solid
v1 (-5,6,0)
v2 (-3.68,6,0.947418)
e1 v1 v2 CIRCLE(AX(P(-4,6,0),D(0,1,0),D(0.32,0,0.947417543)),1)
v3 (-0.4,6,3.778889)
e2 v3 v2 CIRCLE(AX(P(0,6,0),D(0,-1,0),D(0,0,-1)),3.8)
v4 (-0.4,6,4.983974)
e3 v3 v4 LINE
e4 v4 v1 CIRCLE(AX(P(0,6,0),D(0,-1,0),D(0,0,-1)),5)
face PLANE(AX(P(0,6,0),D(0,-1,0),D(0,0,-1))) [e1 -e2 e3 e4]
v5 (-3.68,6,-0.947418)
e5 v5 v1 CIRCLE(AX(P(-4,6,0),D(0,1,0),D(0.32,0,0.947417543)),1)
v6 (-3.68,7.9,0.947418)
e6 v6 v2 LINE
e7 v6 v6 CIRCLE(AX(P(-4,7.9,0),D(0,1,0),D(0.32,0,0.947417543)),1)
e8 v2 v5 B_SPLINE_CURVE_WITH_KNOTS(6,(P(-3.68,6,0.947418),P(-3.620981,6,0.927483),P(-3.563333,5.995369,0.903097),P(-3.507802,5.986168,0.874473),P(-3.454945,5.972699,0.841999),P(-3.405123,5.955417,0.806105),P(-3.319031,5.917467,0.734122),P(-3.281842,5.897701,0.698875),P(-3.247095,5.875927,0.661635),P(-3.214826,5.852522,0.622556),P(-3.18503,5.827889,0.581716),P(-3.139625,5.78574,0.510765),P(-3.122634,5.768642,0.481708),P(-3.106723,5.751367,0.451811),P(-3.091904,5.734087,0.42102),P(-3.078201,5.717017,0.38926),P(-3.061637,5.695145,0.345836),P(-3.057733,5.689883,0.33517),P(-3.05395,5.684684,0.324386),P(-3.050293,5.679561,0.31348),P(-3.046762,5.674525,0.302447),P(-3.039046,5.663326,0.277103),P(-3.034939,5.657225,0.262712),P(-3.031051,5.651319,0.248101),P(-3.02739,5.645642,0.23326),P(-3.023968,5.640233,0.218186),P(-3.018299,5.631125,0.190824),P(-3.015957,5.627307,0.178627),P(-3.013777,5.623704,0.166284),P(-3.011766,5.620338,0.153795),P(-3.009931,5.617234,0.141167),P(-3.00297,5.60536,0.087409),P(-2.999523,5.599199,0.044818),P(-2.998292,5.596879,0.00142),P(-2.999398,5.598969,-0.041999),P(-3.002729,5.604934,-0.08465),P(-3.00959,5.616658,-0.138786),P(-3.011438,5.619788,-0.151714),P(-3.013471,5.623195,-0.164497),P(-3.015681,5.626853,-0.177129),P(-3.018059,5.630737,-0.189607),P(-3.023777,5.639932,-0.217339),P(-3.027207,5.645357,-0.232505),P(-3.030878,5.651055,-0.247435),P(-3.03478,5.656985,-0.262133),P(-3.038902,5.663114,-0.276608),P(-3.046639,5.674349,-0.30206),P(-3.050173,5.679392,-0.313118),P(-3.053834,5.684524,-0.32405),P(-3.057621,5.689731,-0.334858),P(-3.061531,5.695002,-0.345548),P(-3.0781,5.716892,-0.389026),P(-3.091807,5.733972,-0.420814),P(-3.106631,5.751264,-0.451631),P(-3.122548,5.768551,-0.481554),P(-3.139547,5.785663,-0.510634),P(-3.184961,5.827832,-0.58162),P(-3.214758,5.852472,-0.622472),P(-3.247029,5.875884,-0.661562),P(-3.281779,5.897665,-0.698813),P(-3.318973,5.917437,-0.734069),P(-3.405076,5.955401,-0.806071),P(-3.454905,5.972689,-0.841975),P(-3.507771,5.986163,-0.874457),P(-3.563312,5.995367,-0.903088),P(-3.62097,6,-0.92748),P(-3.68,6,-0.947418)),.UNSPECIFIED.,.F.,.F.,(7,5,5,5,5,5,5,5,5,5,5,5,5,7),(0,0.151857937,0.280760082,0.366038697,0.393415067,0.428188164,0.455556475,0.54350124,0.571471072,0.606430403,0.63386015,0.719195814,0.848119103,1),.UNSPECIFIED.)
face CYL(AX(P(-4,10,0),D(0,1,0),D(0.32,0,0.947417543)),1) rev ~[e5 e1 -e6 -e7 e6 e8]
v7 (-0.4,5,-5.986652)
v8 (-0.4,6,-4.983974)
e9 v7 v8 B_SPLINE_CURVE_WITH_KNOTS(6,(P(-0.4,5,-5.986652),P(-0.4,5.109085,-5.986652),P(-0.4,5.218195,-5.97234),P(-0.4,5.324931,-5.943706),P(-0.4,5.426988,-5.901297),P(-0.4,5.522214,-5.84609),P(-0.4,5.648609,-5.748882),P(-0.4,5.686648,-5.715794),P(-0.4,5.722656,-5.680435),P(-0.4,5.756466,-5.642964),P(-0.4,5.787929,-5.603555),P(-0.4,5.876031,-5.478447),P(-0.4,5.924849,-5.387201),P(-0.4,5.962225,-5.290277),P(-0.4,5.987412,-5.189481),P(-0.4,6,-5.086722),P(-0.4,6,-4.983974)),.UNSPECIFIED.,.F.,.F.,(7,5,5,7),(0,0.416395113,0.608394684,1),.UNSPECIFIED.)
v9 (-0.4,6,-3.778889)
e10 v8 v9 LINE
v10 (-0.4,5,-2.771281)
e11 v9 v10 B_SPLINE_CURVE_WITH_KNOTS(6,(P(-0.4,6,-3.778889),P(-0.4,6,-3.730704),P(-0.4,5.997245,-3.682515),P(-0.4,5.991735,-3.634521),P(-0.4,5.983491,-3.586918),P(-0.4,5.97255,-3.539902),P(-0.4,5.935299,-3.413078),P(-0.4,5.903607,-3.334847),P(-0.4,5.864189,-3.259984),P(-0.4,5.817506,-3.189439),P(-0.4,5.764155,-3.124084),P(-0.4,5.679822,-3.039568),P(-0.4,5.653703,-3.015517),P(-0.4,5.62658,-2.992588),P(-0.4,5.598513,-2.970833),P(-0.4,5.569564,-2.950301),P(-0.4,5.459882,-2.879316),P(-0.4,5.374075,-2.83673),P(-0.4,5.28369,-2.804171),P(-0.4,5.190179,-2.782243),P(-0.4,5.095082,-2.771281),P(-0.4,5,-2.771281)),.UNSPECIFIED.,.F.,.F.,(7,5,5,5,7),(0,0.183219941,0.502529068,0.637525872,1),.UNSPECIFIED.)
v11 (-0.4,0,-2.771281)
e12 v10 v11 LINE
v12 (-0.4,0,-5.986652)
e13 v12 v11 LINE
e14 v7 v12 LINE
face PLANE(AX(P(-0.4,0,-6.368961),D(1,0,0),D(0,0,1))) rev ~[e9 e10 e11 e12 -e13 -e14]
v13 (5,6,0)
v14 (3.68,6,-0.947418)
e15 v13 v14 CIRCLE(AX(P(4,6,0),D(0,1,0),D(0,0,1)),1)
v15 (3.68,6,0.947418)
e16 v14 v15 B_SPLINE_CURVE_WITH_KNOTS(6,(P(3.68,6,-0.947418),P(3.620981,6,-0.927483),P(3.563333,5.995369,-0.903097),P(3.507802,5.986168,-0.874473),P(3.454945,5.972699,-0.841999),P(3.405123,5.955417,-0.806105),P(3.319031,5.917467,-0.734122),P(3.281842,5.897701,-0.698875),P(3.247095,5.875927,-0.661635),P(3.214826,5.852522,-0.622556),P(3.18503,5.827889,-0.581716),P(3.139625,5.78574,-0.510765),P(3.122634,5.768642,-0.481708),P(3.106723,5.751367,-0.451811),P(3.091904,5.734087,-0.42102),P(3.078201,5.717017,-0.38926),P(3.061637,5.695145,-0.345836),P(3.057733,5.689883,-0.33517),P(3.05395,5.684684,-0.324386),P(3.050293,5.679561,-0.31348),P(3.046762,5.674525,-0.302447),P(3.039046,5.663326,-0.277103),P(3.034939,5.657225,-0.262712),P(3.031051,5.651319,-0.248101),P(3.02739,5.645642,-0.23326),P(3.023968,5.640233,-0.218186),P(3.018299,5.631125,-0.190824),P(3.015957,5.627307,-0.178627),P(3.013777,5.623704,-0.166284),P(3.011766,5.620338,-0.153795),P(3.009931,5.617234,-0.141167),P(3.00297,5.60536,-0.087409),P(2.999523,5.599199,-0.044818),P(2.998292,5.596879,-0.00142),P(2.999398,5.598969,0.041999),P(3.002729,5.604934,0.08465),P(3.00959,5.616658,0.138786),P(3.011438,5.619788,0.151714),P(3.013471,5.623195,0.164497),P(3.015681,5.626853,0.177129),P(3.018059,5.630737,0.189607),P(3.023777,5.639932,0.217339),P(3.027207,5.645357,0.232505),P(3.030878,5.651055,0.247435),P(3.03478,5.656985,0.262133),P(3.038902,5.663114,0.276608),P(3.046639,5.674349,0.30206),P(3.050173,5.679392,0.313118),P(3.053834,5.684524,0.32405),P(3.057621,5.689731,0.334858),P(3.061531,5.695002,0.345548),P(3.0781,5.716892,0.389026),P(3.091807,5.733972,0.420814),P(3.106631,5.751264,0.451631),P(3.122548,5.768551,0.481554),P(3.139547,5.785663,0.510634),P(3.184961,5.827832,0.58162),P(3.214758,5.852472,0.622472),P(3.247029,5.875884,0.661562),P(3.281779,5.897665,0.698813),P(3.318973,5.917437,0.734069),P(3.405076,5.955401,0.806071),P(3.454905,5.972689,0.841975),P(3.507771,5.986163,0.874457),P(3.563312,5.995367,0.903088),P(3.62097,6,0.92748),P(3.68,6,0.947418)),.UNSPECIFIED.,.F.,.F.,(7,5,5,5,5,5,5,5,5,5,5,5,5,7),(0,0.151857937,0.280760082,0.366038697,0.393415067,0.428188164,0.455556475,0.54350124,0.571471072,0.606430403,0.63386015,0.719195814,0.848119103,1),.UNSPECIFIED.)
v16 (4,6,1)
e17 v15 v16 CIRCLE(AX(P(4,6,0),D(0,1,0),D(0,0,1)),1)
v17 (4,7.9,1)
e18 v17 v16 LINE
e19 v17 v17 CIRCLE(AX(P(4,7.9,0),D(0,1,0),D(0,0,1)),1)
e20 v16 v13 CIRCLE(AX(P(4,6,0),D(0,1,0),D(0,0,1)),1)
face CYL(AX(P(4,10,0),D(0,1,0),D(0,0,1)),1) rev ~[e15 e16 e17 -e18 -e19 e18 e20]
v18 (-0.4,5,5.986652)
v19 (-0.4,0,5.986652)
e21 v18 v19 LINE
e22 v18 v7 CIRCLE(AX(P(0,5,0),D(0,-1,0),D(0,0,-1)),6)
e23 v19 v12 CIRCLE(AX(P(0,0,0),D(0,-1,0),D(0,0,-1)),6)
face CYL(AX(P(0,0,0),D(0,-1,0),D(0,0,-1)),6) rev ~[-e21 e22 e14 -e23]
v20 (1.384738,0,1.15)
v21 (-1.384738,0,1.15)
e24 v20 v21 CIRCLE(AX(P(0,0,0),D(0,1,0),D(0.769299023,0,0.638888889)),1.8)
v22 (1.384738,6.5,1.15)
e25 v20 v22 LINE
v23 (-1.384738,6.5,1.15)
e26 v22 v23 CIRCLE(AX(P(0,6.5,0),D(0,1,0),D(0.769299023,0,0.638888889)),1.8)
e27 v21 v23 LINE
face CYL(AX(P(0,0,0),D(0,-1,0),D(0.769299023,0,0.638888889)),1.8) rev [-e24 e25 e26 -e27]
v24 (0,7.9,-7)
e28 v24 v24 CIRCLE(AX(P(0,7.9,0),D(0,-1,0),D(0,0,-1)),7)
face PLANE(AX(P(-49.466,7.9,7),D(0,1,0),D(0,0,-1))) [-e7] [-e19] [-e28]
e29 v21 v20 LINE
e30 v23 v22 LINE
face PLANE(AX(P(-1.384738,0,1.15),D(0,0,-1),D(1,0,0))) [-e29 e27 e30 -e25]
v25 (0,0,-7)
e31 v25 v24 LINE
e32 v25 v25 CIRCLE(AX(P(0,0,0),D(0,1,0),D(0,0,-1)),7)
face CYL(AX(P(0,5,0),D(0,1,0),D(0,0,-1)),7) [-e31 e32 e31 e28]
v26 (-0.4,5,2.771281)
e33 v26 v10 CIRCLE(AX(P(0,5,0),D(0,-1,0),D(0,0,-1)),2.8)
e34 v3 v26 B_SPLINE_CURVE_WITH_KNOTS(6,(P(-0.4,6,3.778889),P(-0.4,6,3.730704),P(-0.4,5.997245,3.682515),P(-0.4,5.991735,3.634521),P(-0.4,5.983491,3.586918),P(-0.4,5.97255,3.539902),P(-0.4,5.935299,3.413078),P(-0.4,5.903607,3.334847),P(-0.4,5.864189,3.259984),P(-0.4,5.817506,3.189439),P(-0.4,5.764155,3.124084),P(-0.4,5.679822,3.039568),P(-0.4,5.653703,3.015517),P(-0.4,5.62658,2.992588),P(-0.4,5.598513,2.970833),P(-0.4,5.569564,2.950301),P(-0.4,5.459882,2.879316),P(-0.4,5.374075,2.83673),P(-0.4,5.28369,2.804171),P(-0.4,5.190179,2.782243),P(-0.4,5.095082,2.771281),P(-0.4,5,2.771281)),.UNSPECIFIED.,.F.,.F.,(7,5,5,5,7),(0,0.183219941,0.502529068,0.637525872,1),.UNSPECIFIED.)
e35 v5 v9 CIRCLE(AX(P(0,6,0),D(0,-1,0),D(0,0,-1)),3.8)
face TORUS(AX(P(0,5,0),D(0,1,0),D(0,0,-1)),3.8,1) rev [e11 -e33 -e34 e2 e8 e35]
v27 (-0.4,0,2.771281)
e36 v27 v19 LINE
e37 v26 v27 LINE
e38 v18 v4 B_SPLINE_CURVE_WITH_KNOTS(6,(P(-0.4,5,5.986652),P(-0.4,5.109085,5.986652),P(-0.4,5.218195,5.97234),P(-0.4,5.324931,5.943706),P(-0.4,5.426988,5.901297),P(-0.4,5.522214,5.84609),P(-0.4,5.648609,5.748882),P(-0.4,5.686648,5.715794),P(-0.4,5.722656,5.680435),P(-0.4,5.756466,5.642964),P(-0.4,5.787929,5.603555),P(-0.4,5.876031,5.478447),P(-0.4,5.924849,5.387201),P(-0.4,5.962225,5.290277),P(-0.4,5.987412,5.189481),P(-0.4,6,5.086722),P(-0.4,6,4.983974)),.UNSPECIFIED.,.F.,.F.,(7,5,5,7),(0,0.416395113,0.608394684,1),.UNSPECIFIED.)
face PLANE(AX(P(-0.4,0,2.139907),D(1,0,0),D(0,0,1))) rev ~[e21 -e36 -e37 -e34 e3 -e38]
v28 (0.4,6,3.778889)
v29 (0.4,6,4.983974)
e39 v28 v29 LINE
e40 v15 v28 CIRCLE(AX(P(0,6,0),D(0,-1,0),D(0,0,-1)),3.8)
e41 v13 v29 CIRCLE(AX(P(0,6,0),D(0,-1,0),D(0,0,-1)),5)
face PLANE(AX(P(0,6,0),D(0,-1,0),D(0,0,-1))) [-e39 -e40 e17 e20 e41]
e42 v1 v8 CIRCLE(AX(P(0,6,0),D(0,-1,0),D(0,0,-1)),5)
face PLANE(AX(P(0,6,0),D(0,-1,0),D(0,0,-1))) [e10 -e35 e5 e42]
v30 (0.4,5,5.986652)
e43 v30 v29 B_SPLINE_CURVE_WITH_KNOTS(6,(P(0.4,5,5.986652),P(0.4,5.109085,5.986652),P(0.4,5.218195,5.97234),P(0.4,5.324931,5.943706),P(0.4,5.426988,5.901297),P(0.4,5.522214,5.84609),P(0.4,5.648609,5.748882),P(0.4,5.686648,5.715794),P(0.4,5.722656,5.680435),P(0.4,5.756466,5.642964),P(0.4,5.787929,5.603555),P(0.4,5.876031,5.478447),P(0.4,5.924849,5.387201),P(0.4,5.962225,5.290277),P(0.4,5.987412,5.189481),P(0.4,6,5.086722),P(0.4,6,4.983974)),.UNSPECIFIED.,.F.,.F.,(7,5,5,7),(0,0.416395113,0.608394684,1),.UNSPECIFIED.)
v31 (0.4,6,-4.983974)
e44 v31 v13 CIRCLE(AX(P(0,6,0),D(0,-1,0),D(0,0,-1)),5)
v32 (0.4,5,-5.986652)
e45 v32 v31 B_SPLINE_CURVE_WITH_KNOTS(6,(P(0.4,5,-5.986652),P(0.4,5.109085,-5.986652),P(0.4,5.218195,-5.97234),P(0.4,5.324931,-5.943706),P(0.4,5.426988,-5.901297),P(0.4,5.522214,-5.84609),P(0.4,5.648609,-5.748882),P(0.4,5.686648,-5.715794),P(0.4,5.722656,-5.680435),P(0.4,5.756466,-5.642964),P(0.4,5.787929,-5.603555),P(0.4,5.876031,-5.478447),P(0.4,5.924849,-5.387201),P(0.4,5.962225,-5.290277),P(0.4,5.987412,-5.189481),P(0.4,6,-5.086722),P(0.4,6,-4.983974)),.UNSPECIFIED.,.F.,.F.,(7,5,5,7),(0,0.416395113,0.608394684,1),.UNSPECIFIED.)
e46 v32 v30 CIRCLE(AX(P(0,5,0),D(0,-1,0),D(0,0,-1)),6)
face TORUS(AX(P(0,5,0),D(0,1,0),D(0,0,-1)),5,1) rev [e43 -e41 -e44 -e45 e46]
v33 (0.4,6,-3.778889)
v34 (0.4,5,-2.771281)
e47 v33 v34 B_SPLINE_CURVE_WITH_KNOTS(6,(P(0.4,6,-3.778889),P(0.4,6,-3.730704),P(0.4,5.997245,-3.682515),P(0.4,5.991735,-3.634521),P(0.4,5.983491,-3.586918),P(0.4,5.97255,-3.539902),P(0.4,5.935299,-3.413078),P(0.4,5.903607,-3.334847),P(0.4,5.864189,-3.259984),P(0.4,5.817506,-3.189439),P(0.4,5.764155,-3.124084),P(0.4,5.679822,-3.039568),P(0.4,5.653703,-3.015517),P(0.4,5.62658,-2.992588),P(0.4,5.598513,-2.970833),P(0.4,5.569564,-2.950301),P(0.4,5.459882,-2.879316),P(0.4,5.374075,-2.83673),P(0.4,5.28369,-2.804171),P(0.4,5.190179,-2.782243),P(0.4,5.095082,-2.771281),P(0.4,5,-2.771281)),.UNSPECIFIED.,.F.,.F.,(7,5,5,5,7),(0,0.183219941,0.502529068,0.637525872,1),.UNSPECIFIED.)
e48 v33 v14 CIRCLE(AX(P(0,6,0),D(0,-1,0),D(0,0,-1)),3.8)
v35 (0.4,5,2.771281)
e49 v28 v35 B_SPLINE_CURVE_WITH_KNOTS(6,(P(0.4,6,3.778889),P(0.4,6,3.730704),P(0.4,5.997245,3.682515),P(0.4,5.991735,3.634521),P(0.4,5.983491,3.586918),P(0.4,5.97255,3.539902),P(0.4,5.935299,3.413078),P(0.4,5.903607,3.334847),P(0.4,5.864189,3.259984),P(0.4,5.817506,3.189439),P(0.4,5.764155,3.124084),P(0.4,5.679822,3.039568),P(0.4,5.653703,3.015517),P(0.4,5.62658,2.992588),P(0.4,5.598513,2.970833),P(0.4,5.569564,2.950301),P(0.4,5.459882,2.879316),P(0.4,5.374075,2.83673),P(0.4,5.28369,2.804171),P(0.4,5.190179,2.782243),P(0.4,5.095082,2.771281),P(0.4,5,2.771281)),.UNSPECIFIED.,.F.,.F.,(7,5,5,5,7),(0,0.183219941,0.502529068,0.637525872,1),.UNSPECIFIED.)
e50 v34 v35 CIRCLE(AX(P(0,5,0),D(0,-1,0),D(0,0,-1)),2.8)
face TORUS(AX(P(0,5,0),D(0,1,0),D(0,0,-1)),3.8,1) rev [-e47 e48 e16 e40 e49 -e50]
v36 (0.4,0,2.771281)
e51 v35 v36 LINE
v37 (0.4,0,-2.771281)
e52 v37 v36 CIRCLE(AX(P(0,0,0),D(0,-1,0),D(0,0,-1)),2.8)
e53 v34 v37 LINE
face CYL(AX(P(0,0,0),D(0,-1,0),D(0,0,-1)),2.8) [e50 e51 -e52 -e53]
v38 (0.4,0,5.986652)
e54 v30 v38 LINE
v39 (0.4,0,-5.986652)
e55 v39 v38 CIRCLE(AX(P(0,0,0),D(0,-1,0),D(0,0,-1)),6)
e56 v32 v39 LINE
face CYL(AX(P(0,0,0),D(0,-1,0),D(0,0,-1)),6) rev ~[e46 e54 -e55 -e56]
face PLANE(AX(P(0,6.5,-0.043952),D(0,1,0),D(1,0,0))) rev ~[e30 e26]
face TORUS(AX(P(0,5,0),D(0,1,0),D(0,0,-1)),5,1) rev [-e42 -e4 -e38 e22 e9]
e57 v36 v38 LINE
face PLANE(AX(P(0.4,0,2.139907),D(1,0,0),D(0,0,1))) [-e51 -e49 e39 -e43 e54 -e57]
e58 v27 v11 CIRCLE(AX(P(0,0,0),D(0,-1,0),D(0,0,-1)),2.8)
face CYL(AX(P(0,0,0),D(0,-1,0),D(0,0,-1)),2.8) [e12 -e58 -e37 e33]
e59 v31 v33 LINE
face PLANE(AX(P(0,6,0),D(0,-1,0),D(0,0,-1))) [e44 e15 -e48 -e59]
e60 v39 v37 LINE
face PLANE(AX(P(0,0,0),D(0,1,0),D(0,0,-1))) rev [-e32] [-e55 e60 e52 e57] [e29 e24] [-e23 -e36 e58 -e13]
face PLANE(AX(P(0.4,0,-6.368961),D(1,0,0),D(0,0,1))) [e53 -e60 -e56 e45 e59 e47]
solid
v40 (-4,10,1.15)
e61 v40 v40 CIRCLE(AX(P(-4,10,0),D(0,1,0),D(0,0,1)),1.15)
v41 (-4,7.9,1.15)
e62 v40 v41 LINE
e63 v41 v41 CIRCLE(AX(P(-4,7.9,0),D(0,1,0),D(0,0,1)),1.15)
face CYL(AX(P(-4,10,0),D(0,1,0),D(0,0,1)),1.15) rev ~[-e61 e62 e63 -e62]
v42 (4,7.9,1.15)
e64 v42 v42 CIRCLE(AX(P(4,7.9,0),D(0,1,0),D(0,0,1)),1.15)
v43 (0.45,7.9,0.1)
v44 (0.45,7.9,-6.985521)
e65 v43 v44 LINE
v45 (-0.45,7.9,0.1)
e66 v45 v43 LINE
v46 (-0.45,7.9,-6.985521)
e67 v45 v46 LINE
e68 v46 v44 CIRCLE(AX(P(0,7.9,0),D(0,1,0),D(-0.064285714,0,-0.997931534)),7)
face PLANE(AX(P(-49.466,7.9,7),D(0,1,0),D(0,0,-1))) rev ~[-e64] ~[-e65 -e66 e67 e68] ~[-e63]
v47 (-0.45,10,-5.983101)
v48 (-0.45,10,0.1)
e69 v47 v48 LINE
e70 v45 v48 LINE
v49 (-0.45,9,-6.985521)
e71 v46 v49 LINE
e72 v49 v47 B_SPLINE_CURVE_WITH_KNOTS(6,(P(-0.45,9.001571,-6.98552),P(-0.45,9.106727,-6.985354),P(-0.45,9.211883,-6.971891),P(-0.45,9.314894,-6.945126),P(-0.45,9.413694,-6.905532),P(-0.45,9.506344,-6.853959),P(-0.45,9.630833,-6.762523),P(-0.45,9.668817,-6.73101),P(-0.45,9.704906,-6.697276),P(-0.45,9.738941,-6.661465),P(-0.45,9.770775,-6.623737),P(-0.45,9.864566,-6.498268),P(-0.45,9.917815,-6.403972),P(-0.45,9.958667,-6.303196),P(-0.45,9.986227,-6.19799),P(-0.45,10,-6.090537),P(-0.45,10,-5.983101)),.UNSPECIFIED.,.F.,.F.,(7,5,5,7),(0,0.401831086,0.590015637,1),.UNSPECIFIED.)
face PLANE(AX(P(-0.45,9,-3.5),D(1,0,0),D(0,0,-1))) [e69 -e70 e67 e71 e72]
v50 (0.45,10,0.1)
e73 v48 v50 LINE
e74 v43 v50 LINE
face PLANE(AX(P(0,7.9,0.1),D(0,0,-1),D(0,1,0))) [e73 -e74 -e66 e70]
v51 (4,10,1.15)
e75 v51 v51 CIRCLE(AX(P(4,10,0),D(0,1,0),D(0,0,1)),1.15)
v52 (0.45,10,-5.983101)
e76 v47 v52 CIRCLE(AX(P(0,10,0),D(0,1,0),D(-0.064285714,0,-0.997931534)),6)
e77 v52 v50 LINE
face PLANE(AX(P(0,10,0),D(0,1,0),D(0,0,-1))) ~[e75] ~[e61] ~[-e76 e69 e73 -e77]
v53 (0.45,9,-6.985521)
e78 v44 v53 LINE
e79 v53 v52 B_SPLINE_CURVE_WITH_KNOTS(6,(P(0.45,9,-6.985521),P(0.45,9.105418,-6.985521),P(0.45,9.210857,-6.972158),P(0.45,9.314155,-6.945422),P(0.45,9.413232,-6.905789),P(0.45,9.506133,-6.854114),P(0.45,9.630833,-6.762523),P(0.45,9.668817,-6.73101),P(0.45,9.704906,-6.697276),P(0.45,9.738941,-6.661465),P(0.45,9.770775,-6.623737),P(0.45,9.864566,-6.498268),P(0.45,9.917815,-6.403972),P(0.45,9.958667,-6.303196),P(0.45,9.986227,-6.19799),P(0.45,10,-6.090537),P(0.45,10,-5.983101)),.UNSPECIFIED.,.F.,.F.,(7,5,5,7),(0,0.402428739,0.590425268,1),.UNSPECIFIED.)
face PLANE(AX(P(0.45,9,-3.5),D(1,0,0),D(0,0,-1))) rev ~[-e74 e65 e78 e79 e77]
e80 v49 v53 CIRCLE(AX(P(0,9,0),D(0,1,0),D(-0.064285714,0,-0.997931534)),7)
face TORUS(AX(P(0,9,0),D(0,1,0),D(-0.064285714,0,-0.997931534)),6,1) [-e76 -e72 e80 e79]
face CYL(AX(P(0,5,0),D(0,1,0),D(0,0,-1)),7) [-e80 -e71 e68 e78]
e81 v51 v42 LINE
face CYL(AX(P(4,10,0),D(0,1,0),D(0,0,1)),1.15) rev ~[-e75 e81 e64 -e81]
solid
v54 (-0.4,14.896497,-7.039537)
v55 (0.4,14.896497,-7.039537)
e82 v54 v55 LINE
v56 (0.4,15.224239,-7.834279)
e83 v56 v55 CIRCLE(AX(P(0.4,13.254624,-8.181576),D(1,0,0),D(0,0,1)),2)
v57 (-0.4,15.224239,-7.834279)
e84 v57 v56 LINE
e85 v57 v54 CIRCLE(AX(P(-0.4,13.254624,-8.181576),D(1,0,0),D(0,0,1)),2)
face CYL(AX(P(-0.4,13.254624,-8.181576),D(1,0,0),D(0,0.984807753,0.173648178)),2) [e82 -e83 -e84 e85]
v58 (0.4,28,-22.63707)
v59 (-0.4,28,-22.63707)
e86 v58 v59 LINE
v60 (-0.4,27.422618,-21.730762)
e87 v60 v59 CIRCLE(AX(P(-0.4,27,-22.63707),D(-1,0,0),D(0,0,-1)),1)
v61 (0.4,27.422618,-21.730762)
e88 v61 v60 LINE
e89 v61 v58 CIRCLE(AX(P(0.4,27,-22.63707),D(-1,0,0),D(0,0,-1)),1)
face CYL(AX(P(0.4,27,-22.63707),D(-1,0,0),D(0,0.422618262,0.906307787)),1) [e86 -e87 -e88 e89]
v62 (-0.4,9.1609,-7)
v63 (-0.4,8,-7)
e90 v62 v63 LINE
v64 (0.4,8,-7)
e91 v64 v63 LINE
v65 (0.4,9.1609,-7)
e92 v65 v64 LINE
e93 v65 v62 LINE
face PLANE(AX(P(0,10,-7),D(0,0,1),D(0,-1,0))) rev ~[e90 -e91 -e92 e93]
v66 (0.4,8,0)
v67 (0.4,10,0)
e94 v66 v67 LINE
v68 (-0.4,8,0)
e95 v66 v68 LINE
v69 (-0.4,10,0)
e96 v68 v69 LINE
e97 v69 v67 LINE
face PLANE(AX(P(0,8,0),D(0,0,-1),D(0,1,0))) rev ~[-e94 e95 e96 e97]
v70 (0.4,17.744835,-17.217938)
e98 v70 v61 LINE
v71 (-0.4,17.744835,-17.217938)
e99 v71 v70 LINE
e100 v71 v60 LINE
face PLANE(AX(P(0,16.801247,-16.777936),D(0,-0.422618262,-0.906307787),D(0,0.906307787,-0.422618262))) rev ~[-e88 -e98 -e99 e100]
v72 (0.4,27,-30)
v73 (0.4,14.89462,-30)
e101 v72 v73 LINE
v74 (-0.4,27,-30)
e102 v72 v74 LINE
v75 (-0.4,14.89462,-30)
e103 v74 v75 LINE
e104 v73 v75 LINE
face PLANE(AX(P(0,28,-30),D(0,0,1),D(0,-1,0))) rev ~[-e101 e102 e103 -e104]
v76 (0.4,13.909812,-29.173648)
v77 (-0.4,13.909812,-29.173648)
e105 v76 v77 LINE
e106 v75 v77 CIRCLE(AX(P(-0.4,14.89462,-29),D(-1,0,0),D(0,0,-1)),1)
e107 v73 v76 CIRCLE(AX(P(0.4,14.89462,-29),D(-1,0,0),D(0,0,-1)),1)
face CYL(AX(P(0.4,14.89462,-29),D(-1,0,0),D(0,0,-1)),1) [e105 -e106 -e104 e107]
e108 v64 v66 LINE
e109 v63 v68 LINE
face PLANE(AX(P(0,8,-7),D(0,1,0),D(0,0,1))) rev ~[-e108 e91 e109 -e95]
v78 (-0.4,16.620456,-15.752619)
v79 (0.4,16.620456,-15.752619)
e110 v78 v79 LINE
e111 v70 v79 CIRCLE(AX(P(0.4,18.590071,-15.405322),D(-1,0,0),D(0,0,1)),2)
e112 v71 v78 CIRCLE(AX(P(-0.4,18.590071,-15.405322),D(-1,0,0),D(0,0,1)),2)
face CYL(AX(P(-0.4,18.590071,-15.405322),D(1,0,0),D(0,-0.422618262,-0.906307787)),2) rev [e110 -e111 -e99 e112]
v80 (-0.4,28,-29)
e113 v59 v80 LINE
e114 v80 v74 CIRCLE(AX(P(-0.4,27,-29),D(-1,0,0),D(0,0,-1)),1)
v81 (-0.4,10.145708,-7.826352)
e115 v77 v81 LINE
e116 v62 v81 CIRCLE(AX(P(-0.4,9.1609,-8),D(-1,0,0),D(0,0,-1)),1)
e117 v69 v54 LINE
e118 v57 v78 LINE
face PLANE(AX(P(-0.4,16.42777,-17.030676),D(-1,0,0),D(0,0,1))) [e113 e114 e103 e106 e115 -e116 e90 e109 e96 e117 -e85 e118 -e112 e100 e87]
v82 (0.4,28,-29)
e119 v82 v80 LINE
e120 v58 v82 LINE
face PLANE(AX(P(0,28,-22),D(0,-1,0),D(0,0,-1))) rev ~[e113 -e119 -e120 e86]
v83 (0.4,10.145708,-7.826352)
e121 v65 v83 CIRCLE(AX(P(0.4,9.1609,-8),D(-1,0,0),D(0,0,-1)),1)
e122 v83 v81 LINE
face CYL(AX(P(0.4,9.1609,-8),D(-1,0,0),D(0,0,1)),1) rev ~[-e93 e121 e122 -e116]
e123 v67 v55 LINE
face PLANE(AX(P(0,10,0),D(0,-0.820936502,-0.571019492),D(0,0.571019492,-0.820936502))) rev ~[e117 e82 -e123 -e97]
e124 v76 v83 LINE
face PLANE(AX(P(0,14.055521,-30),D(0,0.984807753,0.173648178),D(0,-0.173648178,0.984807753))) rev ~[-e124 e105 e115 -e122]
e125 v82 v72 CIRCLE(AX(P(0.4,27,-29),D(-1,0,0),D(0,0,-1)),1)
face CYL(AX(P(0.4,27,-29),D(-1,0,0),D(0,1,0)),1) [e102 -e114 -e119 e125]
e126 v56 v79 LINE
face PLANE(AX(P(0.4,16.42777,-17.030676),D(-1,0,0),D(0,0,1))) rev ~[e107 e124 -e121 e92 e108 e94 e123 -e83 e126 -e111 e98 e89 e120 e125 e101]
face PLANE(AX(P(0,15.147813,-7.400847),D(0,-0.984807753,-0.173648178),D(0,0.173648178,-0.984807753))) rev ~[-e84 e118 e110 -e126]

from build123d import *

# Parameters (mm, degrees)
SKETCH_1_W                     = 7
SKETCH_1_H                     = 10
CUT_EXTRUDE_1_DEPTH            = 6.5
EXTRUDE_2_DEPTH                = 0.4
SKETCH_5_W                     = 7.2
SKETCH_5_H                     = 2.2
CUT_EXTRUDE_2_DEPTH            = 0.45
FILLET_1_R                     = 1
FILLET_2_R                     = 1
SKETCH_6_R                     = 6
SKETCH_6_R_2                   = 2.8
CUT_EXTRUDE_3_DEPTH            = 6
FILLET_4_R                     = 1
FILLET_3_R                     = 2
SKETCH_8_R                     = 1
CUT_EXTRUDE_4_DEPTH            = 6
SPLIT_BODIES_1_SURFACE_1_BACK  = 49.466
SPLIT_BODIES_1_SURFACE_1_DEPTH = 98.932
SPLIT_BODIES_1_SURFACE_2_BACK  = 49.466
SPLIT_BODIES_1_SURFACE_2_DEPTH = 98.932
SKETCH_13_R                    = 1.15
CUT_EXTRUDE_6_DEPTH            = 2.8
FILLET_7_R                     = 1
SKETCH_14_W                    = 0.8
SKETCH_14_H                    = 4.22905479
EXTRUDE_3_DEPTH                = 6


with BuildPart() as part:
    # 草图1 → 旋转1 (revolve)
    with BuildSketch(Plane(origin=(0, 0, 0), x_dir=(0, 0, -1), z_dir=(1, 0, 0))):
        with Locations((3.5, 5)):
            Rectangle(SKETCH_1_W, SKETCH_1_H)
    revolve(axis=Axis((0, 0, 0), (0, 1, 0)))

    # 草图2 → 切除-拉伸1 (cut)
    with BuildSketch(Plane(origin=(0, 0, 0), x_dir=(1, 0, 0), z_dir=(0, 1, 0))):
        with BuildLine():
            Line((-1.384738242, -1.15), (1.384738242, -1.15))
            ThreePointArc((1.384738242, -1.15), (0, 1.8), (-1.384738242, -1.15))
        make_face()
    extrude(amount=CUT_EXTRUDE_1_DEPTH, mode=Mode.SUBTRACT)

    # 草图5 → 切除-拉伸2 (cut, symmetric)
    with BuildSketch(Plane(origin=(0, 0, 0), x_dir=(0, 0, -1), z_dir=(1, 0, 0))):
        with Locations((3.5, 9)):
            Rectangle(SKETCH_5_W, SKETCH_5_H)
    extrude(amount=CUT_EXTRUDE_2_DEPTH, both=True, mode=Mode.SUBTRACT)

    # 圆角1
    fillet_1_edges = [part.edges().sort_by_distance(p)[0] for p in [
        (0, 10, 7),
    ]]
    fillet(fillet_1_edges, radius=FILLET_1_R)

    # 草图6 → 切除-拉伸3 (cut)
    with BuildSketch(Plane.XZ):
        with Locations(Location((0, 0, 0), (0, 0, 270))):
            Circle(SKETCH_6_R)
        with Locations(Location((0, 0, 0), (0, 0, 270))):
            Circle(SKETCH_6_R_2, mode=Mode.SUBTRACT)
    extrude(amount=-CUT_EXTRUDE_3_DEPTH, mode=Mode.SUBTRACT)

    # 圆角4
    fillet_4_edges = [part.edges().sort_by_distance(p)[0] for p in [
        (0, 6, 6),
        (0, 6, 2.8),
    ]]
    fillet(fillet_4_edges, radius=FILLET_4_R)

    # 草图8 → 切除-拉伸4 (cut)
    with BuildSketch(Plane(origin=(0, 10, 0), x_dir=(1, 0, 0), z_dir=(0, 1, 0))):
        with Locations(Location((4, 0, 0), (0, 0, 270))):
            Circle(SKETCH_8_R)
        with Locations(Location((-4, 0, 0), (0, 0, 288.662924885))):
            Circle(SKETCH_8_R)
    extrude(amount=-CUT_EXTRUDE_4_DEPTH, mode=Mode.SUBTRACT)


with BuildPart() as body_2:
    # 草图4 → 凸台-拉伸2 (new, symmetric)
    with BuildSketch(Plane(origin=(0, 0, 0), x_dir=(0, 0, -1), z_dir=(1, 0, 0))):
        Polygon((16.777935685, 16.801246936), (22, 28), (30, 28), (30, 14.055520556), (7, 10), (7, 8), (0, 8), (0, 10), (7.400846686, 15.147813145), align=None)
    extrude(amount=EXTRUDE_2_DEPTH, both=True)

    # 圆角2
    fillet_2_edges = [body_2.edges().sort_by_distance(p)[0] for p in [
        (0, 28, -22),
        (0, 10, -7),
    ]]
    fillet(fillet_2_edges, radius=FILLET_2_R)

    # 圆角3
    fillet_3_edges = [body_2.edges().sort_by_distance(p)[0] for p in [
        (0, 15.147813145, -7.400846686),
        (0, 16.801246936, -16.777935685),
    ]]
    fillet(fillet_3_edges, radius=FILLET_3_R)

    # 圆角7
    fillet_7_edges = [body_2.edges().sort_by_distance(p)[0] for p in [
        (0, 28, -30),
        (0, 14.055520556, -30),
    ]]
    fillet(fillet_7_edges, radius=FILLET_7_R)


with BuildPart() as body_3:
    # Split Bodies 1: the piece behind the surface
    add(part.part)
    # Split Bodies 1 surface: a surface, the sketch's curves swept straight by 98.932 mm
    with BuildLine(Plane(origin=(0, 0, 0), x_dir=(0, 0, -1), z_dir=(1, 0, 0)).offset(-SPLIT_BODIES_1_SURFACE_1_BACK), mode=Mode.PRIVATE) as split_bodies_1_surface_1_path:
        Line((-7, 7.9), (7, 7.9))
    split_bodies_1_surface_1 = Shell.extrude(split_bodies_1_surface_1_path.wire(), (1 * SPLIT_BODIES_1_SURFACE_1_DEPTH, 0 * SPLIT_BODIES_1_SURFACE_1_DEPTH, 0 * SPLIT_BODIES_1_SURFACE_1_DEPTH))
    split(bisect_by=split_bodies_1_surface_1, keep=Keep.BOTTOM)

    # 草图14 → 凸台-拉伸3 (add)
    with BuildSketch(Plane.XZ):
        with Locations((0, -4.254434053)):
            Rectangle(SKETCH_14_W, SKETCH_14_H)
        with Locations((0, 4.254434053)):
            Rectangle(SKETCH_14_W, SKETCH_14_H)
    extrude(amount=-EXTRUDE_3_DEPTH)


with BuildPart() as part_1:
    add(part.part)

    # Split Bodies 1: split by a surface, the side it looks to stays
    # Split Bodies 1 surface: a surface, the sketch's curves swept straight by 98.932 mm
    with BuildLine(Plane(origin=(0, 0, 0), x_dir=(0, 0, -1), z_dir=(1, 0, 0)).offset(-SPLIT_BODIES_1_SURFACE_2_BACK), mode=Mode.PRIVATE) as split_bodies_1_surface_2_path:
        Line((-7, 7.9), (7, 7.9))
    split_bodies_1_surface_2 = Shell.extrude(split_bodies_1_surface_2_path.wire(), (1 * SPLIT_BODIES_1_SURFACE_2_DEPTH, 0 * SPLIT_BODIES_1_SURFACE_2_DEPTH, 0 * SPLIT_BODIES_1_SURFACE_2_DEPTH))
    split(bisect_by=split_bodies_1_surface_2, keep=Keep.TOP)

    # 草图13 → 切除-拉伸6 (cut)
    with BuildSketch(Plane(origin=(0, 10, 0), x_dir=(1, 0, 0), z_dir=(0, 1, 0))):
        with Locations(Location((-4, 0, 0), (0, 0, 270))):
            Circle(SKETCH_13_R)
        with Locations(Location((4, 0, 0), (0, 0, 270))):
            Circle(SKETCH_13_R)
    extrude(amount=-CUT_EXTRUDE_6_DEPTH, mode=Mode.SUBTRACT)


solid = Compound([body_2.part, body_3.part, part_1.part])
